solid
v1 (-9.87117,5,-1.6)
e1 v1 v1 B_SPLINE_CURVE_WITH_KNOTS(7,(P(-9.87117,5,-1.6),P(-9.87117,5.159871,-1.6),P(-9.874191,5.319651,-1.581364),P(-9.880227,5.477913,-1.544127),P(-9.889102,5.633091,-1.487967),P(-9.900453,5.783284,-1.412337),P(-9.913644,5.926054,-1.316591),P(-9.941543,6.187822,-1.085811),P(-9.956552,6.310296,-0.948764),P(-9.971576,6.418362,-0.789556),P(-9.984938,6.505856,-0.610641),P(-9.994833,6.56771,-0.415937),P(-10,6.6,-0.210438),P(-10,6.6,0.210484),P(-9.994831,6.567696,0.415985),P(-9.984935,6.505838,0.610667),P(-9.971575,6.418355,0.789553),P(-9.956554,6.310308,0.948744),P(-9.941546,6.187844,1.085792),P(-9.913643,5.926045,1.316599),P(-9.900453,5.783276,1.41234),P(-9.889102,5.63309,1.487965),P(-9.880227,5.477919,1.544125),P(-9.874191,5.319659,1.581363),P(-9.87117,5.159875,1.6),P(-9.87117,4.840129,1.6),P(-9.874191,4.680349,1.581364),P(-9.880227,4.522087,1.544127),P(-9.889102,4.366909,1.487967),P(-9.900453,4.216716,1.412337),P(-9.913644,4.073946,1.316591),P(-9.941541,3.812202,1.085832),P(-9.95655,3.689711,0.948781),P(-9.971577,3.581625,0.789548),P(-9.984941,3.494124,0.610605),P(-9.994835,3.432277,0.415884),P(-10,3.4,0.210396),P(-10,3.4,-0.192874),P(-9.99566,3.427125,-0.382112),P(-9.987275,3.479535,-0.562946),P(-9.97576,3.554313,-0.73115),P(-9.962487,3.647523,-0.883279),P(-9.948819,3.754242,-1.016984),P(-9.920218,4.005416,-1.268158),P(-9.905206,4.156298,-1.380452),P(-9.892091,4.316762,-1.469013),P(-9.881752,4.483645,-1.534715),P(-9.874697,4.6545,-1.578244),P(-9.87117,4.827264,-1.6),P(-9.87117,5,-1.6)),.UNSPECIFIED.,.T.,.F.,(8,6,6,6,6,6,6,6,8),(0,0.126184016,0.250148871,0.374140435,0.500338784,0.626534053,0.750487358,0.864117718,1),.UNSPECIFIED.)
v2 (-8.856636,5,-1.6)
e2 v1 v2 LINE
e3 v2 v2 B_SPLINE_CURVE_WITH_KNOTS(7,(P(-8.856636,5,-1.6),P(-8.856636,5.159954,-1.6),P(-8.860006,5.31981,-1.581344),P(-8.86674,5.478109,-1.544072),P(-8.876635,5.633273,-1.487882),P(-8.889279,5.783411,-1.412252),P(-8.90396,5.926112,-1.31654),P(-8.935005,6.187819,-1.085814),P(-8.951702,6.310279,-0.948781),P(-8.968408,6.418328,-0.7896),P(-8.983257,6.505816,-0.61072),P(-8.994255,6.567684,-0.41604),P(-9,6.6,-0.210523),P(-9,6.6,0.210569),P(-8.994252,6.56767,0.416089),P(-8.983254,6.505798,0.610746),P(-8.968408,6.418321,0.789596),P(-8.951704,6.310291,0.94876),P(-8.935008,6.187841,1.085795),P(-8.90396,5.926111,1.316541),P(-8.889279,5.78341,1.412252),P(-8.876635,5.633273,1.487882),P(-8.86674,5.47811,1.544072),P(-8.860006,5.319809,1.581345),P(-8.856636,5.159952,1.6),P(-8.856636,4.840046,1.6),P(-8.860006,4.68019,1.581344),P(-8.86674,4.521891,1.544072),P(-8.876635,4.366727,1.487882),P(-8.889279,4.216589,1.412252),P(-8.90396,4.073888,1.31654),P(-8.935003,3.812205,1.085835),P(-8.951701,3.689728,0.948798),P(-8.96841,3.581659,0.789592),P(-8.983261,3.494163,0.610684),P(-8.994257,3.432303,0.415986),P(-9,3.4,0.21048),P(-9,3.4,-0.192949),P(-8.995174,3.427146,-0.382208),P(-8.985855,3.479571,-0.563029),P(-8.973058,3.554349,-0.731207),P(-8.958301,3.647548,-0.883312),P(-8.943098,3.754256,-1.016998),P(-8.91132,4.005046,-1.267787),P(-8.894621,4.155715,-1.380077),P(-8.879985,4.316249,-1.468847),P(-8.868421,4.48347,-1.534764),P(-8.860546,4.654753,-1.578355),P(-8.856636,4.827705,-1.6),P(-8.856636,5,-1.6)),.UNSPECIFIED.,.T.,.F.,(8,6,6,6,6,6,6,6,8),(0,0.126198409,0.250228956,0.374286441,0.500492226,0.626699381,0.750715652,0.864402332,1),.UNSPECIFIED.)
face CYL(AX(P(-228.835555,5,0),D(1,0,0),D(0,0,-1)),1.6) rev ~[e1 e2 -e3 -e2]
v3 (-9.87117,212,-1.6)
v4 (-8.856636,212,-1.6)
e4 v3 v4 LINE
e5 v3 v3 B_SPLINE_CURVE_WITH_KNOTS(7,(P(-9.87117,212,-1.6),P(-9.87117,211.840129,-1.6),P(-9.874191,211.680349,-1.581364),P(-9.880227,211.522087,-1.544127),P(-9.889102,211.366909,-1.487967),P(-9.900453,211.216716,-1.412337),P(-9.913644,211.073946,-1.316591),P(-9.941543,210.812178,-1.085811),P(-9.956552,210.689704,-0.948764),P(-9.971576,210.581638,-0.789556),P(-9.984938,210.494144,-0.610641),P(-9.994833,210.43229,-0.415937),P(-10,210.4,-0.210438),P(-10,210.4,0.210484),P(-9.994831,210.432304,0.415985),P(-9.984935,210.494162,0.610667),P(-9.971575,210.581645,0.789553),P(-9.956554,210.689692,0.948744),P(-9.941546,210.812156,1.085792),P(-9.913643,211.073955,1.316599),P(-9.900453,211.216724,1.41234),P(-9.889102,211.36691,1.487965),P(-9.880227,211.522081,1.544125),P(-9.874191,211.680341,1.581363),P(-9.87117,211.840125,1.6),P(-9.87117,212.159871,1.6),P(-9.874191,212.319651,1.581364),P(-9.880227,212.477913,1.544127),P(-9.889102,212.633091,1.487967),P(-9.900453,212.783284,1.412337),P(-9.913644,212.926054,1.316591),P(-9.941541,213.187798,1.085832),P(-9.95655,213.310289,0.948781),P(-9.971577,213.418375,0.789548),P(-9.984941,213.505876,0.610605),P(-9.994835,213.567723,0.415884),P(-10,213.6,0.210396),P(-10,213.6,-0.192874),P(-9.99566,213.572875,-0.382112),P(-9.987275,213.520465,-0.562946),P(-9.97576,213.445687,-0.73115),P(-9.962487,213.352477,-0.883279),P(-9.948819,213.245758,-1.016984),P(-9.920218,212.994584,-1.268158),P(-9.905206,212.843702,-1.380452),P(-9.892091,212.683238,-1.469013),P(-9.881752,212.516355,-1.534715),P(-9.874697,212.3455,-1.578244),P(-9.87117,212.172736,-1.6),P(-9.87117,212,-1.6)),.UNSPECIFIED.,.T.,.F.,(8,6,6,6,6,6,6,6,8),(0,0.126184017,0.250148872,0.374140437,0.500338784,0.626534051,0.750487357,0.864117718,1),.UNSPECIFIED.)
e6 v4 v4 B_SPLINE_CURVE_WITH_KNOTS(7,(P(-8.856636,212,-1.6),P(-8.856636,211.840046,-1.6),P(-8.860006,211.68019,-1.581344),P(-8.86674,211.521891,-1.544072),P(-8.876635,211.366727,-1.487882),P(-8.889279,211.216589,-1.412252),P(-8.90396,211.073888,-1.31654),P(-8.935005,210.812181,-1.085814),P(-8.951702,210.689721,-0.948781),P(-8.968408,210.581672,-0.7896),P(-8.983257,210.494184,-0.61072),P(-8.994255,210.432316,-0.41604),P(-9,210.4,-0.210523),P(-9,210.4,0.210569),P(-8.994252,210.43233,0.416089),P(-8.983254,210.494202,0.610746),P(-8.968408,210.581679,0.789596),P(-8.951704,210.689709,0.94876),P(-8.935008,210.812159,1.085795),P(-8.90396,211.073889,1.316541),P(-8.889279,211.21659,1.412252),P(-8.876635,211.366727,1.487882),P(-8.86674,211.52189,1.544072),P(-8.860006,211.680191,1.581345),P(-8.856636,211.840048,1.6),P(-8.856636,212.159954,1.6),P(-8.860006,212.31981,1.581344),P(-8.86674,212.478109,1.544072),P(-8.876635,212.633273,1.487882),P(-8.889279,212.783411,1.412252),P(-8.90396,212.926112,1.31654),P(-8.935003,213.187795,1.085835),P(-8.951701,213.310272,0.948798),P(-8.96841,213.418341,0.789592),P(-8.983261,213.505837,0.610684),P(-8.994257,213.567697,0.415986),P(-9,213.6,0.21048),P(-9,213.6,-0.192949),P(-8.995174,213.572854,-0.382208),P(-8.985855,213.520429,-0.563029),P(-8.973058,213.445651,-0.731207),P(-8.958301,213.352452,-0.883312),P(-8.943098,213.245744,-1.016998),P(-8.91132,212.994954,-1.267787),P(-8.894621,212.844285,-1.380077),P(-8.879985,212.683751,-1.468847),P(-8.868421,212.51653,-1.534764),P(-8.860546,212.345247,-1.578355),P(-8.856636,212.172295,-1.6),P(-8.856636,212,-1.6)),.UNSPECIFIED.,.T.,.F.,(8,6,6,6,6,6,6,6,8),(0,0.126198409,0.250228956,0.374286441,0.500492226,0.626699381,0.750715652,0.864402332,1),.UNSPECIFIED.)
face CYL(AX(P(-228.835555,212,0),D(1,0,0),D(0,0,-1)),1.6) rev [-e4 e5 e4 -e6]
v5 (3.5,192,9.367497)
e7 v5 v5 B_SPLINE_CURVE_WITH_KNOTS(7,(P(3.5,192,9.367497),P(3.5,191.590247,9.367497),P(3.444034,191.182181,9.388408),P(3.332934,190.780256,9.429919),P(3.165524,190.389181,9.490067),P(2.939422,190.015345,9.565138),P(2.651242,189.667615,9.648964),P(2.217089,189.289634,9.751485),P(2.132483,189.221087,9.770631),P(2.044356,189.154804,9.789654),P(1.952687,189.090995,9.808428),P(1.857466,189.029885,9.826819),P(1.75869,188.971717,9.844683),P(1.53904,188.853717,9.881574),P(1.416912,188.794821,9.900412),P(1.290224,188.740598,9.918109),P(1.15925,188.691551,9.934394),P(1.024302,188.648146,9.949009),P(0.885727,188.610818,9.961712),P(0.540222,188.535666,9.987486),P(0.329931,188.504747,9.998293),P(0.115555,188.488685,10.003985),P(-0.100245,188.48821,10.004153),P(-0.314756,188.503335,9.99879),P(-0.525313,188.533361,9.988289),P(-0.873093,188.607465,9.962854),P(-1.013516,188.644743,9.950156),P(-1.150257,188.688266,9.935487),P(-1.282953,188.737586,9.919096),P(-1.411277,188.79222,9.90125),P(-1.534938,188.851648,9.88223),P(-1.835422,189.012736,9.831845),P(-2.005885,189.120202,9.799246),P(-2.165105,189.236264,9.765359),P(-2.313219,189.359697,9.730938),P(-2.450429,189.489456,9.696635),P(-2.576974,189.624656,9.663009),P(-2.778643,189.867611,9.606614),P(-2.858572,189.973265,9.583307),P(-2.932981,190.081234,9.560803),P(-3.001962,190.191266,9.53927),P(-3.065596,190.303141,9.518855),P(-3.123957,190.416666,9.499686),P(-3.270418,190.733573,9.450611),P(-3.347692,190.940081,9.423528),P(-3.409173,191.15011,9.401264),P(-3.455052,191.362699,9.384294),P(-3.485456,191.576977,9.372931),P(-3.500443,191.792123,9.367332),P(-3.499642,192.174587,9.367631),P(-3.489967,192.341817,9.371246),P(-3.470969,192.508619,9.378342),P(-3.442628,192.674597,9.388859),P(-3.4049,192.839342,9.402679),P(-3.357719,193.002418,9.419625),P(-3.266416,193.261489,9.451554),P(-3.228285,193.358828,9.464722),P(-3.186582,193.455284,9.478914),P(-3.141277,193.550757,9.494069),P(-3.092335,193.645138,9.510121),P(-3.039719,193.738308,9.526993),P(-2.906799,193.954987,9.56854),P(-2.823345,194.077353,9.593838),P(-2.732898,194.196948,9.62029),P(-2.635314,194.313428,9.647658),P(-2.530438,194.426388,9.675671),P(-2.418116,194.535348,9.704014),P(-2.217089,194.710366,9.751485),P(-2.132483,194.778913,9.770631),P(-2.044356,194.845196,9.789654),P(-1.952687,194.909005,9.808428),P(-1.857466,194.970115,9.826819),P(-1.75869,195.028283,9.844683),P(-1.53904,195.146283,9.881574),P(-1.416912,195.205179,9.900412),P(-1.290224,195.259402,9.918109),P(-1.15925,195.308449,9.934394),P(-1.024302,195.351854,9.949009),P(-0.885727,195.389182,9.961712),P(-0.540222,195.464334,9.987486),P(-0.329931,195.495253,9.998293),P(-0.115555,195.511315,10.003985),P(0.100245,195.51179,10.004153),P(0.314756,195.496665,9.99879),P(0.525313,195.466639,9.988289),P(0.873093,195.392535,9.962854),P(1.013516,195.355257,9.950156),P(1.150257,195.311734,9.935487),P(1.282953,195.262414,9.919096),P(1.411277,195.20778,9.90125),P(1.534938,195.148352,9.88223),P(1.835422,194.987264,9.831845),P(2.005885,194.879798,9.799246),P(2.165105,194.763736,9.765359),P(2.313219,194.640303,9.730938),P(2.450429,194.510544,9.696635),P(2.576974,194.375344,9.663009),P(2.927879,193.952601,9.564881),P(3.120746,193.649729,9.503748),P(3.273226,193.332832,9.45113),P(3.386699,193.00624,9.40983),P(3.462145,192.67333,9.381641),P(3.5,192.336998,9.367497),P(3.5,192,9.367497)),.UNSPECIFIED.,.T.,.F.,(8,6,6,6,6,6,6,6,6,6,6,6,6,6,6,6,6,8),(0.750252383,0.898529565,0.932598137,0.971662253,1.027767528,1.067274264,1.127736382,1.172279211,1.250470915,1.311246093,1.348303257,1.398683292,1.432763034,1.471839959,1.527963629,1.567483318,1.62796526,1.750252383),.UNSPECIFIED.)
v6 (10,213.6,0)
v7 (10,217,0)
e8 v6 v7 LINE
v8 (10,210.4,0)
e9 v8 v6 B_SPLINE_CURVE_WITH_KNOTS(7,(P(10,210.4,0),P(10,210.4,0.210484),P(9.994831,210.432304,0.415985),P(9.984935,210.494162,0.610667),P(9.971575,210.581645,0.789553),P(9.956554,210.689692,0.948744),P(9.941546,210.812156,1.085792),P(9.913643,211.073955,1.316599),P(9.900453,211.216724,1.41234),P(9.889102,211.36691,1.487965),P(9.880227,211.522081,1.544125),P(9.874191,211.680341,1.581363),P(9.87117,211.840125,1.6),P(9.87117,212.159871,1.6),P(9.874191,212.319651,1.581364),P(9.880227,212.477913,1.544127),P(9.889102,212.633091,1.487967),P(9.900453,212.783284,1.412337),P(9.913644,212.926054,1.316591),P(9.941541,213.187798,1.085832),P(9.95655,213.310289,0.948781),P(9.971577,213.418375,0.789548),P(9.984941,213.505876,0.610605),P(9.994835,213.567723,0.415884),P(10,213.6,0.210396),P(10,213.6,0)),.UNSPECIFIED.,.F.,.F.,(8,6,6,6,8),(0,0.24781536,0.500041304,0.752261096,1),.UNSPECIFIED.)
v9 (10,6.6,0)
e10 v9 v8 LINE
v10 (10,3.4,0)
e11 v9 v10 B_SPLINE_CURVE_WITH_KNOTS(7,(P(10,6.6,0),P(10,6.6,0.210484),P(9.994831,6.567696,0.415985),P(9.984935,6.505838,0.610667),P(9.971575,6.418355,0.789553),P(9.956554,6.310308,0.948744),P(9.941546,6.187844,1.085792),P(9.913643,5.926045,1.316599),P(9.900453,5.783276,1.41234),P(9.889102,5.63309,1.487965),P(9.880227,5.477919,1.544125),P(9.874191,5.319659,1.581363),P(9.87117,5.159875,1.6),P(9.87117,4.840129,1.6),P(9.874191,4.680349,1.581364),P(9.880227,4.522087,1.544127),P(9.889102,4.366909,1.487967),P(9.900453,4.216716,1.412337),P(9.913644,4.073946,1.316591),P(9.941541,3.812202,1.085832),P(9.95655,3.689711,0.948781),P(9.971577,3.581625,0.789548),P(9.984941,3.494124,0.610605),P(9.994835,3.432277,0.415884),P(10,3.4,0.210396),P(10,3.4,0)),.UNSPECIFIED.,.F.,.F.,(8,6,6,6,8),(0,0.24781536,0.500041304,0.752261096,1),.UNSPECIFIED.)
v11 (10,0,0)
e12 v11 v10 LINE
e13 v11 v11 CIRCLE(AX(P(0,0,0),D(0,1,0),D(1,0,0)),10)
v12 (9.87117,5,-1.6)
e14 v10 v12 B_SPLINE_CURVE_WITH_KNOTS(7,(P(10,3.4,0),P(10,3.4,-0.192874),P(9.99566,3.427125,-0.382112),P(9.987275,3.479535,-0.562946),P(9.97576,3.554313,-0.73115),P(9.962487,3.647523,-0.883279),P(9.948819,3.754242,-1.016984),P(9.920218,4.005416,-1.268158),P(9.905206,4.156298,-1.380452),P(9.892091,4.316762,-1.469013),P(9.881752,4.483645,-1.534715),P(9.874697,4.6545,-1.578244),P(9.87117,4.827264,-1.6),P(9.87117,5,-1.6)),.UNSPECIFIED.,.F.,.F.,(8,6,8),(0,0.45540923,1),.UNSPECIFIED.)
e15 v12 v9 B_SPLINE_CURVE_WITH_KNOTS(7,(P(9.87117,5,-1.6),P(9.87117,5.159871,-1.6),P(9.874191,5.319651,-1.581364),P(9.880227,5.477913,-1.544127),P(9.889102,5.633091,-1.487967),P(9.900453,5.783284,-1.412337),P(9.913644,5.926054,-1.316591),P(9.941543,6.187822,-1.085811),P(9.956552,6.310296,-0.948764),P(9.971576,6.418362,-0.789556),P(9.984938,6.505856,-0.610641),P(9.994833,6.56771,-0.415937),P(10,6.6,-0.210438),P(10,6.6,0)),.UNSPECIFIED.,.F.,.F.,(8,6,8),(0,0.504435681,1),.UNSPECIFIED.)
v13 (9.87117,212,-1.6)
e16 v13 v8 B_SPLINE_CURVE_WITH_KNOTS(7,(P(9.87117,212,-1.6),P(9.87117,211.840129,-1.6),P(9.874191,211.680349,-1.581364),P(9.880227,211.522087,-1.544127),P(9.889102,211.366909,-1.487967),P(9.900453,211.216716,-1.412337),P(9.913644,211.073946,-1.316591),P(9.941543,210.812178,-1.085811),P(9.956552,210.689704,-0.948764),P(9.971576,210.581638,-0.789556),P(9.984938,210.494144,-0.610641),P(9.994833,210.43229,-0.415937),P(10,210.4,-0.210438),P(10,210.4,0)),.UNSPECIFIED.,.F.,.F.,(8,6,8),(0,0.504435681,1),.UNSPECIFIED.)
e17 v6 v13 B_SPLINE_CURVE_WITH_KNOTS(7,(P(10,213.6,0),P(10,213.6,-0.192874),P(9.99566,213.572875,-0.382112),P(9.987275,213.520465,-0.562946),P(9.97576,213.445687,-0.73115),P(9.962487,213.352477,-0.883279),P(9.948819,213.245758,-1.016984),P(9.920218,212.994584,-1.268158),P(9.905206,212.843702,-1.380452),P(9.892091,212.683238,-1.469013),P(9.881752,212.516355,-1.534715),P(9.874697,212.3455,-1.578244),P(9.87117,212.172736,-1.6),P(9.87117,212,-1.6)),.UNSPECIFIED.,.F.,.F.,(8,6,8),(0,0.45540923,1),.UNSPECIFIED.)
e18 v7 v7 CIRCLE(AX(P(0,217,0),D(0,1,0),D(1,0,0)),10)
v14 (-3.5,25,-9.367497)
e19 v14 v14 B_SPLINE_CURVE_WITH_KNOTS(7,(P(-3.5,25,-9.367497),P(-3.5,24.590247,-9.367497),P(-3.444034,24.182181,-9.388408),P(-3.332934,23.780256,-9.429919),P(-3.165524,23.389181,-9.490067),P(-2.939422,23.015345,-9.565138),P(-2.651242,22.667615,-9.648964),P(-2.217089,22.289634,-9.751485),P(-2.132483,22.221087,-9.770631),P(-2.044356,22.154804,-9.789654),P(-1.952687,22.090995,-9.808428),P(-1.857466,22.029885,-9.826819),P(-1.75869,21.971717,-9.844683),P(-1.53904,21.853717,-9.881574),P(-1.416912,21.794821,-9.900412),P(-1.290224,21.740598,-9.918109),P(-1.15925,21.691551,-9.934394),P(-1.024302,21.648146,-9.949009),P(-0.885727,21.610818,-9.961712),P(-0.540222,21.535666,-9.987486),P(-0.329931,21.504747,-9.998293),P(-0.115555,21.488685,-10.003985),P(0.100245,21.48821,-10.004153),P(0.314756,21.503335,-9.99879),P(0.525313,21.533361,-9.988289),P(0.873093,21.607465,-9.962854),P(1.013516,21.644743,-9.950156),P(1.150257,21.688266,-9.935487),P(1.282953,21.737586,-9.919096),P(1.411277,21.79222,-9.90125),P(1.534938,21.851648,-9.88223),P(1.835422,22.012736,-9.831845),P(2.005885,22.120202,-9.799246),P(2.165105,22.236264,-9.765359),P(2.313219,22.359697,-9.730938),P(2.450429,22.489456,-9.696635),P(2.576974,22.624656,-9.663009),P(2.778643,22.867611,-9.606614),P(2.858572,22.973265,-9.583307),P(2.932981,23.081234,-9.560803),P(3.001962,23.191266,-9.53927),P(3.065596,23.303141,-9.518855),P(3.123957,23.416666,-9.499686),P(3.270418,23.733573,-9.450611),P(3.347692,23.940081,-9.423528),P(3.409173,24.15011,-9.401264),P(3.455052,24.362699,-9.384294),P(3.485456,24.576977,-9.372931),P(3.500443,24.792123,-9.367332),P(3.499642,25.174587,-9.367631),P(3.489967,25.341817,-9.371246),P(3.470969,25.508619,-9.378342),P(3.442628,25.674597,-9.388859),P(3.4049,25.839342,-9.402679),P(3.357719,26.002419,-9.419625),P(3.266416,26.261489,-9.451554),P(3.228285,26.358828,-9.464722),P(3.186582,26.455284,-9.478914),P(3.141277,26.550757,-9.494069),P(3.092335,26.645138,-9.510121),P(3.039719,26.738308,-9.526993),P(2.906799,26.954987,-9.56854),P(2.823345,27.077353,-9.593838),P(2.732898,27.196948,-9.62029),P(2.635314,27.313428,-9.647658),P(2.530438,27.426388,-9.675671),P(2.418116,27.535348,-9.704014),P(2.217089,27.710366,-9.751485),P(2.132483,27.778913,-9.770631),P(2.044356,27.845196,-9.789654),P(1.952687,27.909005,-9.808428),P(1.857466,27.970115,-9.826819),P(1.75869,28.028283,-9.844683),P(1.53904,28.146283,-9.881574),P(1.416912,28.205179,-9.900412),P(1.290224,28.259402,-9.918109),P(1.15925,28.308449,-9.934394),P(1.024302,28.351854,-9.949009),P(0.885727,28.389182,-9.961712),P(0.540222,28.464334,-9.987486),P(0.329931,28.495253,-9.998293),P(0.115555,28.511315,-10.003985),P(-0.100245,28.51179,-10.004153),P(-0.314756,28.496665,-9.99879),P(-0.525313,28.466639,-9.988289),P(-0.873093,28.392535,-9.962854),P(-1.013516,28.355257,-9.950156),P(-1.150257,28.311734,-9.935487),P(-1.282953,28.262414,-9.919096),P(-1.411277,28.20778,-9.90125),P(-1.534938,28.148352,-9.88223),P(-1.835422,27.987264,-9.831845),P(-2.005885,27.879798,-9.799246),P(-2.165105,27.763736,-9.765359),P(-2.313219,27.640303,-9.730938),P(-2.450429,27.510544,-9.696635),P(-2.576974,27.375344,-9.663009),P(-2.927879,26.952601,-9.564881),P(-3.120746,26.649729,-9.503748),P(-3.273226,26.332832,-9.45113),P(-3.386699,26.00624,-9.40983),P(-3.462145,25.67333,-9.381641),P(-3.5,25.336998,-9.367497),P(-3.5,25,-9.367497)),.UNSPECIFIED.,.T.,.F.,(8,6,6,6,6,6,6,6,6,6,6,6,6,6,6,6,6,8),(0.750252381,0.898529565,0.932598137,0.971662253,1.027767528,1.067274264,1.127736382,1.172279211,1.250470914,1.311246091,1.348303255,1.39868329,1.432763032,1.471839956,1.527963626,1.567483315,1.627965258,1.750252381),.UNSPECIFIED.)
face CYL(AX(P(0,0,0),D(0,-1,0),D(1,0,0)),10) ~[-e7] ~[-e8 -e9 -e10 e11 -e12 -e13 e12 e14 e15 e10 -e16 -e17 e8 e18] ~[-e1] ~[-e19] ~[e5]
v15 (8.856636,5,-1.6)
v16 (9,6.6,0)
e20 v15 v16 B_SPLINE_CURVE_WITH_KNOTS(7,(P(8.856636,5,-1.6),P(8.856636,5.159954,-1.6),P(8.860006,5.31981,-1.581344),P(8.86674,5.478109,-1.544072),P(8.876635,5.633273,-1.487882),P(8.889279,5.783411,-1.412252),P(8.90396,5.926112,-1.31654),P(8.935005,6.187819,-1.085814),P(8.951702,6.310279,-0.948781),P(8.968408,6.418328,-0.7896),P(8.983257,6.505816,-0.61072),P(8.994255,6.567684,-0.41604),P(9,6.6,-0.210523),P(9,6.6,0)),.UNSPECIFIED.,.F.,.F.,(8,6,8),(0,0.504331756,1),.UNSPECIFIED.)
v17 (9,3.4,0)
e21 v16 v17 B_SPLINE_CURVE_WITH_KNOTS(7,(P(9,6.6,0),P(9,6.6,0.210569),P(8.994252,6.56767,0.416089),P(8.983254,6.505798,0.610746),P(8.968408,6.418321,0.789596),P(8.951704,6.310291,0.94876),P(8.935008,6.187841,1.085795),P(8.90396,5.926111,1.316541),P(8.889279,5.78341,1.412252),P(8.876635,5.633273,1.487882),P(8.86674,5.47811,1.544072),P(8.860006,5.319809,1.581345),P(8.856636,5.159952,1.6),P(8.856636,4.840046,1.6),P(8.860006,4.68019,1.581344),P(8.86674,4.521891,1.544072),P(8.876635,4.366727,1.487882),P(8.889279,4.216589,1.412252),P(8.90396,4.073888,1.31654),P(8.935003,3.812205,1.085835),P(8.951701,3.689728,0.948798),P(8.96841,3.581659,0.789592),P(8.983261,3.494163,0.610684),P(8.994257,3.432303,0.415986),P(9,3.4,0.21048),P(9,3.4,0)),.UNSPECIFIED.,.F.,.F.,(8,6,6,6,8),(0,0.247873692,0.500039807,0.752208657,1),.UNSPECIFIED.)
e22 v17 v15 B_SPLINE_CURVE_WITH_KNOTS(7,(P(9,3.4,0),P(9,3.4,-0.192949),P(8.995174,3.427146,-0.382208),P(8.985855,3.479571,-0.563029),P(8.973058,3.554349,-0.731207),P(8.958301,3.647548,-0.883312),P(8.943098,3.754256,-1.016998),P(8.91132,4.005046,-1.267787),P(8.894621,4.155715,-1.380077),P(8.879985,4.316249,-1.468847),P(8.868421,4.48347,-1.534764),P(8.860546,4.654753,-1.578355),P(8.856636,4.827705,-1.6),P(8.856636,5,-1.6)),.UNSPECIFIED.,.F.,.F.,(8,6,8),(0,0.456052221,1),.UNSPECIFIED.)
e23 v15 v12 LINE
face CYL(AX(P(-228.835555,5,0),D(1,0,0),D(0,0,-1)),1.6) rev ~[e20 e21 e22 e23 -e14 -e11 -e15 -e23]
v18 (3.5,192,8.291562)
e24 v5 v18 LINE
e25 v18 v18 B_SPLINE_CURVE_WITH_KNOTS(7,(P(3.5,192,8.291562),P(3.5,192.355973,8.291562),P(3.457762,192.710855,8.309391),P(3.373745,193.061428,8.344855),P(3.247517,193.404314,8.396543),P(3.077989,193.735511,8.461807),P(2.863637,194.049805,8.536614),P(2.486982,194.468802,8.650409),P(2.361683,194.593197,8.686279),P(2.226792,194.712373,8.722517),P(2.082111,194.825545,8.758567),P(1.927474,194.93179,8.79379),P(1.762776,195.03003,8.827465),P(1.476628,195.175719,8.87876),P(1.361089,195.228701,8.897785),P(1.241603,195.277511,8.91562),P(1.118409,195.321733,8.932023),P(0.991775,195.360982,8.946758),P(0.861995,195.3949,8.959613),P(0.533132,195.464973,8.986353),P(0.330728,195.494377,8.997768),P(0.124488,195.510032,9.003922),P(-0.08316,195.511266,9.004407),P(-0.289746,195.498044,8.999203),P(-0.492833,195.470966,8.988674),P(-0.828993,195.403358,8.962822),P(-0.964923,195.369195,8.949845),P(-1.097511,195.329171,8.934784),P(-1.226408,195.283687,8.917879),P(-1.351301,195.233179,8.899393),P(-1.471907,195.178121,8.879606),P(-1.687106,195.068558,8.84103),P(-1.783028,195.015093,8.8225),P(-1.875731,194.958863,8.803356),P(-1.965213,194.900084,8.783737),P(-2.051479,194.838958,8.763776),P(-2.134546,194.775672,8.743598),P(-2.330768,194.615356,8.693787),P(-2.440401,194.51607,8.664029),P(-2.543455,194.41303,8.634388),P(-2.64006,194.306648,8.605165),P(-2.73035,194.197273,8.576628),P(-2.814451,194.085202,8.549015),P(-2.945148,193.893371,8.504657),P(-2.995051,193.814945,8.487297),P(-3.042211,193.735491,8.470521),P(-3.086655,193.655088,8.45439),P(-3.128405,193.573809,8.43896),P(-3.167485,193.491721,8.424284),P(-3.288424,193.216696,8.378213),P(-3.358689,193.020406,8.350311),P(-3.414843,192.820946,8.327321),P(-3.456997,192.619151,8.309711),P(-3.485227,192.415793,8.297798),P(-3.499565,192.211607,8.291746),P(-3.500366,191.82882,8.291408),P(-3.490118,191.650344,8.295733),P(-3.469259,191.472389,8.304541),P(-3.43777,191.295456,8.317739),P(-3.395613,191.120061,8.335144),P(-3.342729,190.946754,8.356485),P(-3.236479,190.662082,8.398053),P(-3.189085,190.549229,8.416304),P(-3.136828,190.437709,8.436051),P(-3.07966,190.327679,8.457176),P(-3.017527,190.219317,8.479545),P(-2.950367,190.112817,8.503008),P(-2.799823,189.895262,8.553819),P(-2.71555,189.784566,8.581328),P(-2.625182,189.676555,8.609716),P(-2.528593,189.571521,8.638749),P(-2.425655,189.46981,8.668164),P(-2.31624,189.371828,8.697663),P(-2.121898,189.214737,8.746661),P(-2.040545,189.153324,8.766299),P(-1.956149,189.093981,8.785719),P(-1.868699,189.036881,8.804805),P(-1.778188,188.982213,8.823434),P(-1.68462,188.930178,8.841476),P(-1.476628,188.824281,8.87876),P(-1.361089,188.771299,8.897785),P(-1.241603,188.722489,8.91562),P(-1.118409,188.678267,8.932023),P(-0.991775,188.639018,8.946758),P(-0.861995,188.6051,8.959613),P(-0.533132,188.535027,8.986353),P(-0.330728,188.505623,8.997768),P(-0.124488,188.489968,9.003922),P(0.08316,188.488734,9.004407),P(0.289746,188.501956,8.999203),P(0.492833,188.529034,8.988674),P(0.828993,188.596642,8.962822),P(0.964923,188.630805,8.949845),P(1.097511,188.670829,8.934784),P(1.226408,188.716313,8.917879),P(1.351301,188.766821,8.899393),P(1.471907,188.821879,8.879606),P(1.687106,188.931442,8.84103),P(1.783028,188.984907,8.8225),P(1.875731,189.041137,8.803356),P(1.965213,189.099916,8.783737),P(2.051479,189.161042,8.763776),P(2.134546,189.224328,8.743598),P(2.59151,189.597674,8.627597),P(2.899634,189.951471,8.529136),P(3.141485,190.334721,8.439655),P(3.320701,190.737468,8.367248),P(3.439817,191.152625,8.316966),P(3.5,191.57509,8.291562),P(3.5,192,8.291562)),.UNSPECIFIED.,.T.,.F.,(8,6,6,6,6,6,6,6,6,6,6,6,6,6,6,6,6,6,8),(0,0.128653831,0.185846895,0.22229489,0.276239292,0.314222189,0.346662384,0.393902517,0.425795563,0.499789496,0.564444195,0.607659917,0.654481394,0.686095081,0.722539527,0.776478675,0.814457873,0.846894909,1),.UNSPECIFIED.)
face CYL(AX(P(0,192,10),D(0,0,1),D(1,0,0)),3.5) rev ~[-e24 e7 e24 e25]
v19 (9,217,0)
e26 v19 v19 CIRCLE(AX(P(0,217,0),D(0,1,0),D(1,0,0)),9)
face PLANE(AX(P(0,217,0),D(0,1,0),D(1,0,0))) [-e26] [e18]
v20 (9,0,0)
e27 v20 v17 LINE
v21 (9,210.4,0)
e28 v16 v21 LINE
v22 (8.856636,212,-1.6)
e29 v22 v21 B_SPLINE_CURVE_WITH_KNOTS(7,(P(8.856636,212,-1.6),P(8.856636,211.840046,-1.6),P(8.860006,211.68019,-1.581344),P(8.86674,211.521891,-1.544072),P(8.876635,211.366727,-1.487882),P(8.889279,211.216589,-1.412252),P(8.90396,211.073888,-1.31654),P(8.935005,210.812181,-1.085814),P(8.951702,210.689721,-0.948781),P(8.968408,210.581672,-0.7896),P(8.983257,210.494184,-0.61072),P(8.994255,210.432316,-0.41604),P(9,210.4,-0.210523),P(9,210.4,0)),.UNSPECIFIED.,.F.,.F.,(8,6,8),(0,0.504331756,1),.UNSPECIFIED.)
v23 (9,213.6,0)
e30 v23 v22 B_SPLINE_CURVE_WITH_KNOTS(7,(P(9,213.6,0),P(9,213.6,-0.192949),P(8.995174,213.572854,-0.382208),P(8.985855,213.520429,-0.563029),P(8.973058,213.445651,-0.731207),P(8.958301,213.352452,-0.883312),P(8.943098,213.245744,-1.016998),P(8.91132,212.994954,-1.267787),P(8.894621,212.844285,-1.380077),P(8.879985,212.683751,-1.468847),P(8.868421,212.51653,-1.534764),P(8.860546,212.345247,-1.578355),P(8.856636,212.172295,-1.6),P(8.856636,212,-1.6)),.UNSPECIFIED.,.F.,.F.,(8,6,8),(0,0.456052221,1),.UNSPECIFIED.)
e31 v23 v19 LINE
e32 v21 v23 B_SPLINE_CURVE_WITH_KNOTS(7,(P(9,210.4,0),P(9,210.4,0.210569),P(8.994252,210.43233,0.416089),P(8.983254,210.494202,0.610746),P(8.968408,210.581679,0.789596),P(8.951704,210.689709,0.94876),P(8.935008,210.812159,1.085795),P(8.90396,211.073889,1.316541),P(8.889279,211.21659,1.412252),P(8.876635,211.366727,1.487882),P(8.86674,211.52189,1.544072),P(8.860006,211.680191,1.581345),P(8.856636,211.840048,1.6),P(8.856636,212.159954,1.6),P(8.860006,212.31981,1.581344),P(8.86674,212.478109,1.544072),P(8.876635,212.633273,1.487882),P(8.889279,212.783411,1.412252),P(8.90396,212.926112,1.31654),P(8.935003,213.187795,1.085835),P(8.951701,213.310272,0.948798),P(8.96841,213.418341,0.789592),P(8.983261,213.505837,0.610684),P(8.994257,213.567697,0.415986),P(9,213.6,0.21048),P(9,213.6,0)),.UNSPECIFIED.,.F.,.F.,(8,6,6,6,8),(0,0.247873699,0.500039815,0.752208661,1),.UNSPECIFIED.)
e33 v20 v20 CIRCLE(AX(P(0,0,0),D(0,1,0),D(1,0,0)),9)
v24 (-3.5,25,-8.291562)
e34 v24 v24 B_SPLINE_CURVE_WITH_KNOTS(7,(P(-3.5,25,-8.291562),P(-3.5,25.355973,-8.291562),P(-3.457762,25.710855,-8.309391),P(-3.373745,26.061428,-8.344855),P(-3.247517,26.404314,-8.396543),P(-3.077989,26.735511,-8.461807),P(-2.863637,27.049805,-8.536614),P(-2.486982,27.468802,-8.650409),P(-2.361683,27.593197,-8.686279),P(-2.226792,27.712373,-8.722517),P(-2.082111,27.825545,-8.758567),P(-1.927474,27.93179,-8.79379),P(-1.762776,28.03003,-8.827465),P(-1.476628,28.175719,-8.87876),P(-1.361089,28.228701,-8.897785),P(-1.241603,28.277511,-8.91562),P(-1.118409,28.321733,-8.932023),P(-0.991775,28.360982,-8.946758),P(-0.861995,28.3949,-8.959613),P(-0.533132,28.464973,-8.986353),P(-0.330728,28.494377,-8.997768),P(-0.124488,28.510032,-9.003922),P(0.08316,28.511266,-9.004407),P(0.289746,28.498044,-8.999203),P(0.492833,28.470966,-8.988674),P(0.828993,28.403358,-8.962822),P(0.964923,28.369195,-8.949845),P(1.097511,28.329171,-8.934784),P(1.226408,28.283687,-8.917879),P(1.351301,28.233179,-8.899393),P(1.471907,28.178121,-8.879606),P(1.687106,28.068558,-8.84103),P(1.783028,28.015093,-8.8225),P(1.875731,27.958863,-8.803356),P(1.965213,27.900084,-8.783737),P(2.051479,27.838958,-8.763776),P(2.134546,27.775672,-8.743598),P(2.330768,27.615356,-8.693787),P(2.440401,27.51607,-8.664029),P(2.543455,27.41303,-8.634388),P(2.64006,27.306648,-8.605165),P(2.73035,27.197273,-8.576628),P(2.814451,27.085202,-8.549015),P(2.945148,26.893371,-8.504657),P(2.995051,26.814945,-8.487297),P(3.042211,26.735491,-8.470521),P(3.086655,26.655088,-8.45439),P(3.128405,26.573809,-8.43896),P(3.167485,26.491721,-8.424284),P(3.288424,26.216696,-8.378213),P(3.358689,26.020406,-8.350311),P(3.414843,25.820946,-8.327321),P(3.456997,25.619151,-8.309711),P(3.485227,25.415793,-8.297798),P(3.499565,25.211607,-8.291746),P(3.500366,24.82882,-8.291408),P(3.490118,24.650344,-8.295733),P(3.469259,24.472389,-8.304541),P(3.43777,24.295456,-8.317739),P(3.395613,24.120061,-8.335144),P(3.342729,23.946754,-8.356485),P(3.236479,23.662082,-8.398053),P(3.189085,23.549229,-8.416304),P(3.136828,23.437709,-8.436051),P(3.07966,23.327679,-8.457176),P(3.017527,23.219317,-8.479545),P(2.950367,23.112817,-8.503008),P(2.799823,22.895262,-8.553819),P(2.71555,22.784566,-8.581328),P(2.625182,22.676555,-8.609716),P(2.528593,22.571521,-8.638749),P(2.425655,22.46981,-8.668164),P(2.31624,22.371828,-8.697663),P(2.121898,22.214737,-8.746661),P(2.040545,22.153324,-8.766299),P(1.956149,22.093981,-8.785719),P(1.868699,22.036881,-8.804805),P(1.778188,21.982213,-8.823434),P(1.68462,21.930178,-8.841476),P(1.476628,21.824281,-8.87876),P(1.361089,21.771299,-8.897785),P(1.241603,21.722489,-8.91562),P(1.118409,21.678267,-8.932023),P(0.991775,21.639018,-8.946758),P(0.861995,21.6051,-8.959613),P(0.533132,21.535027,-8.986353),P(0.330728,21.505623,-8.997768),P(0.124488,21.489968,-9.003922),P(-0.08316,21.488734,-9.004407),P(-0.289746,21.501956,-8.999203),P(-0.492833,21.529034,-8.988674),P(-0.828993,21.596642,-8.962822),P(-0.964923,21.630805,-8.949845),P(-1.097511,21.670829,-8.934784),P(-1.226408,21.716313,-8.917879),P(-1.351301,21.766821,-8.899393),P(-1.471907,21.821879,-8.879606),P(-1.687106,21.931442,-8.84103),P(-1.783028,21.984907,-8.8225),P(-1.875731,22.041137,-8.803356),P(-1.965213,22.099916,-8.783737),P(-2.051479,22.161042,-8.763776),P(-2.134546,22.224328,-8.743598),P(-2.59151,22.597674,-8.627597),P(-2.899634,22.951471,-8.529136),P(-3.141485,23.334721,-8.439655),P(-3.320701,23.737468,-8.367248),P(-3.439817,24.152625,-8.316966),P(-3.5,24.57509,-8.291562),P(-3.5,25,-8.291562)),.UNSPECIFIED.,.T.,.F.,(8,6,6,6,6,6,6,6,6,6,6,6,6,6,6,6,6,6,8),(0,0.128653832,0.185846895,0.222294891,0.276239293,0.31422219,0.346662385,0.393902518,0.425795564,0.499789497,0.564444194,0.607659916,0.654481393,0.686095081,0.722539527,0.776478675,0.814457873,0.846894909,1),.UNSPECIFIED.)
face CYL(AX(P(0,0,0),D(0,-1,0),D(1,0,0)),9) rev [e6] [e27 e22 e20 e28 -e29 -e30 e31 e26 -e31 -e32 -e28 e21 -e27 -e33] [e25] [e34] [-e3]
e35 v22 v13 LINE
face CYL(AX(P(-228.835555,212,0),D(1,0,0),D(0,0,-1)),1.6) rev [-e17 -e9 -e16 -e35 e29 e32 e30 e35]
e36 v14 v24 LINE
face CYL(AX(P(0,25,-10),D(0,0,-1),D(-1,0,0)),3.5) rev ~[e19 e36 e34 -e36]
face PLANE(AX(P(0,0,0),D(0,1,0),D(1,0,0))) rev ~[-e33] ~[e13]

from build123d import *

# Parameters (mm, degrees)
SKETCH1_R            = 10
SKETCH1_R_2          = 9
BOSS_EXTRUDE1_DEPTH  = 217
M3_CLEARANCE_HOLE1_D = 3.2
CUT_EXTRUDE1_REACH   = 220.149
SKETCH4_R            = 3.5
CUT_EXTRUDE2_REACH   = 220.149
SKETCH5_R            = 3.5


with BuildPart() as part:
    # Sketch1 → Boss-Extrude1 (new body)
    with BuildSketch(Plane(origin=(0, 0, 0), x_dir=(1, 0, 0), z_dir=(0, 1, 0))):
        Circle(SKETCH1_R)
        Circle(SKETCH1_R_2, mode=Mode.SUBTRACT)
    extrude(amount=BOSS_EXTRUDE1_DEPTH)

    # M3 Clearance Hole1 (through all)
    with Locations(Plane.ZY.offset(10)):
        with Locations((0, 5)):
            m3_clearance_hole1 = Hole(M3_CLEARANCE_HOLE1_D / 2)

    # Mirror1: M3 Clearance Hole1 across plane
    add(m3_clearance_hole1.mirror(Plane.ZX.offset(108.5)), mode=Mode.SUBTRACT)

    # Sketch4 → Cut-Extrude1 (cut, up to next)
    with BuildSketch(Plane(origin=(0, 0, -10), x_dir=(-1, 0, 0), z_dir=(0, 0, -1)), mode=Mode.PRIVATE) as cut_extrude1_sk1:
        with Locations((0, 25)):
            Circle(SKETCH4_R)
    cut_extrude1_tool1 = extrude(cut_extrude1_sk1.sketch, amount=-CUT_EXTRUDE1_REACH, mode=Mode.PRIVATE) & part.part
    add(cut_extrude1_tool1.solids().sort_by_distance((0, 25, -10))[0], mode=Mode.SUBTRACT)

    # Sketch5 → Cut-Extrude2 (cut, up to next)
    with BuildSketch(Plane.XY.offset(10), mode=Mode.PRIVATE) as cut_extrude2_sk1:
        with Locations((0, 192)):
            Circle(SKETCH5_R)
    cut_extrude2_tool1 = extrude(cut_extrude2_sk1.sketch, amount=-CUT_EXTRUDE2_REACH, mode=Mode.PRIVATE) & part.part
    add(cut_extrude2_tool1.solids().sort_by_distance((0, 192, 10))[0], mode=Mode.SUBTRACT)


solid = part.part
